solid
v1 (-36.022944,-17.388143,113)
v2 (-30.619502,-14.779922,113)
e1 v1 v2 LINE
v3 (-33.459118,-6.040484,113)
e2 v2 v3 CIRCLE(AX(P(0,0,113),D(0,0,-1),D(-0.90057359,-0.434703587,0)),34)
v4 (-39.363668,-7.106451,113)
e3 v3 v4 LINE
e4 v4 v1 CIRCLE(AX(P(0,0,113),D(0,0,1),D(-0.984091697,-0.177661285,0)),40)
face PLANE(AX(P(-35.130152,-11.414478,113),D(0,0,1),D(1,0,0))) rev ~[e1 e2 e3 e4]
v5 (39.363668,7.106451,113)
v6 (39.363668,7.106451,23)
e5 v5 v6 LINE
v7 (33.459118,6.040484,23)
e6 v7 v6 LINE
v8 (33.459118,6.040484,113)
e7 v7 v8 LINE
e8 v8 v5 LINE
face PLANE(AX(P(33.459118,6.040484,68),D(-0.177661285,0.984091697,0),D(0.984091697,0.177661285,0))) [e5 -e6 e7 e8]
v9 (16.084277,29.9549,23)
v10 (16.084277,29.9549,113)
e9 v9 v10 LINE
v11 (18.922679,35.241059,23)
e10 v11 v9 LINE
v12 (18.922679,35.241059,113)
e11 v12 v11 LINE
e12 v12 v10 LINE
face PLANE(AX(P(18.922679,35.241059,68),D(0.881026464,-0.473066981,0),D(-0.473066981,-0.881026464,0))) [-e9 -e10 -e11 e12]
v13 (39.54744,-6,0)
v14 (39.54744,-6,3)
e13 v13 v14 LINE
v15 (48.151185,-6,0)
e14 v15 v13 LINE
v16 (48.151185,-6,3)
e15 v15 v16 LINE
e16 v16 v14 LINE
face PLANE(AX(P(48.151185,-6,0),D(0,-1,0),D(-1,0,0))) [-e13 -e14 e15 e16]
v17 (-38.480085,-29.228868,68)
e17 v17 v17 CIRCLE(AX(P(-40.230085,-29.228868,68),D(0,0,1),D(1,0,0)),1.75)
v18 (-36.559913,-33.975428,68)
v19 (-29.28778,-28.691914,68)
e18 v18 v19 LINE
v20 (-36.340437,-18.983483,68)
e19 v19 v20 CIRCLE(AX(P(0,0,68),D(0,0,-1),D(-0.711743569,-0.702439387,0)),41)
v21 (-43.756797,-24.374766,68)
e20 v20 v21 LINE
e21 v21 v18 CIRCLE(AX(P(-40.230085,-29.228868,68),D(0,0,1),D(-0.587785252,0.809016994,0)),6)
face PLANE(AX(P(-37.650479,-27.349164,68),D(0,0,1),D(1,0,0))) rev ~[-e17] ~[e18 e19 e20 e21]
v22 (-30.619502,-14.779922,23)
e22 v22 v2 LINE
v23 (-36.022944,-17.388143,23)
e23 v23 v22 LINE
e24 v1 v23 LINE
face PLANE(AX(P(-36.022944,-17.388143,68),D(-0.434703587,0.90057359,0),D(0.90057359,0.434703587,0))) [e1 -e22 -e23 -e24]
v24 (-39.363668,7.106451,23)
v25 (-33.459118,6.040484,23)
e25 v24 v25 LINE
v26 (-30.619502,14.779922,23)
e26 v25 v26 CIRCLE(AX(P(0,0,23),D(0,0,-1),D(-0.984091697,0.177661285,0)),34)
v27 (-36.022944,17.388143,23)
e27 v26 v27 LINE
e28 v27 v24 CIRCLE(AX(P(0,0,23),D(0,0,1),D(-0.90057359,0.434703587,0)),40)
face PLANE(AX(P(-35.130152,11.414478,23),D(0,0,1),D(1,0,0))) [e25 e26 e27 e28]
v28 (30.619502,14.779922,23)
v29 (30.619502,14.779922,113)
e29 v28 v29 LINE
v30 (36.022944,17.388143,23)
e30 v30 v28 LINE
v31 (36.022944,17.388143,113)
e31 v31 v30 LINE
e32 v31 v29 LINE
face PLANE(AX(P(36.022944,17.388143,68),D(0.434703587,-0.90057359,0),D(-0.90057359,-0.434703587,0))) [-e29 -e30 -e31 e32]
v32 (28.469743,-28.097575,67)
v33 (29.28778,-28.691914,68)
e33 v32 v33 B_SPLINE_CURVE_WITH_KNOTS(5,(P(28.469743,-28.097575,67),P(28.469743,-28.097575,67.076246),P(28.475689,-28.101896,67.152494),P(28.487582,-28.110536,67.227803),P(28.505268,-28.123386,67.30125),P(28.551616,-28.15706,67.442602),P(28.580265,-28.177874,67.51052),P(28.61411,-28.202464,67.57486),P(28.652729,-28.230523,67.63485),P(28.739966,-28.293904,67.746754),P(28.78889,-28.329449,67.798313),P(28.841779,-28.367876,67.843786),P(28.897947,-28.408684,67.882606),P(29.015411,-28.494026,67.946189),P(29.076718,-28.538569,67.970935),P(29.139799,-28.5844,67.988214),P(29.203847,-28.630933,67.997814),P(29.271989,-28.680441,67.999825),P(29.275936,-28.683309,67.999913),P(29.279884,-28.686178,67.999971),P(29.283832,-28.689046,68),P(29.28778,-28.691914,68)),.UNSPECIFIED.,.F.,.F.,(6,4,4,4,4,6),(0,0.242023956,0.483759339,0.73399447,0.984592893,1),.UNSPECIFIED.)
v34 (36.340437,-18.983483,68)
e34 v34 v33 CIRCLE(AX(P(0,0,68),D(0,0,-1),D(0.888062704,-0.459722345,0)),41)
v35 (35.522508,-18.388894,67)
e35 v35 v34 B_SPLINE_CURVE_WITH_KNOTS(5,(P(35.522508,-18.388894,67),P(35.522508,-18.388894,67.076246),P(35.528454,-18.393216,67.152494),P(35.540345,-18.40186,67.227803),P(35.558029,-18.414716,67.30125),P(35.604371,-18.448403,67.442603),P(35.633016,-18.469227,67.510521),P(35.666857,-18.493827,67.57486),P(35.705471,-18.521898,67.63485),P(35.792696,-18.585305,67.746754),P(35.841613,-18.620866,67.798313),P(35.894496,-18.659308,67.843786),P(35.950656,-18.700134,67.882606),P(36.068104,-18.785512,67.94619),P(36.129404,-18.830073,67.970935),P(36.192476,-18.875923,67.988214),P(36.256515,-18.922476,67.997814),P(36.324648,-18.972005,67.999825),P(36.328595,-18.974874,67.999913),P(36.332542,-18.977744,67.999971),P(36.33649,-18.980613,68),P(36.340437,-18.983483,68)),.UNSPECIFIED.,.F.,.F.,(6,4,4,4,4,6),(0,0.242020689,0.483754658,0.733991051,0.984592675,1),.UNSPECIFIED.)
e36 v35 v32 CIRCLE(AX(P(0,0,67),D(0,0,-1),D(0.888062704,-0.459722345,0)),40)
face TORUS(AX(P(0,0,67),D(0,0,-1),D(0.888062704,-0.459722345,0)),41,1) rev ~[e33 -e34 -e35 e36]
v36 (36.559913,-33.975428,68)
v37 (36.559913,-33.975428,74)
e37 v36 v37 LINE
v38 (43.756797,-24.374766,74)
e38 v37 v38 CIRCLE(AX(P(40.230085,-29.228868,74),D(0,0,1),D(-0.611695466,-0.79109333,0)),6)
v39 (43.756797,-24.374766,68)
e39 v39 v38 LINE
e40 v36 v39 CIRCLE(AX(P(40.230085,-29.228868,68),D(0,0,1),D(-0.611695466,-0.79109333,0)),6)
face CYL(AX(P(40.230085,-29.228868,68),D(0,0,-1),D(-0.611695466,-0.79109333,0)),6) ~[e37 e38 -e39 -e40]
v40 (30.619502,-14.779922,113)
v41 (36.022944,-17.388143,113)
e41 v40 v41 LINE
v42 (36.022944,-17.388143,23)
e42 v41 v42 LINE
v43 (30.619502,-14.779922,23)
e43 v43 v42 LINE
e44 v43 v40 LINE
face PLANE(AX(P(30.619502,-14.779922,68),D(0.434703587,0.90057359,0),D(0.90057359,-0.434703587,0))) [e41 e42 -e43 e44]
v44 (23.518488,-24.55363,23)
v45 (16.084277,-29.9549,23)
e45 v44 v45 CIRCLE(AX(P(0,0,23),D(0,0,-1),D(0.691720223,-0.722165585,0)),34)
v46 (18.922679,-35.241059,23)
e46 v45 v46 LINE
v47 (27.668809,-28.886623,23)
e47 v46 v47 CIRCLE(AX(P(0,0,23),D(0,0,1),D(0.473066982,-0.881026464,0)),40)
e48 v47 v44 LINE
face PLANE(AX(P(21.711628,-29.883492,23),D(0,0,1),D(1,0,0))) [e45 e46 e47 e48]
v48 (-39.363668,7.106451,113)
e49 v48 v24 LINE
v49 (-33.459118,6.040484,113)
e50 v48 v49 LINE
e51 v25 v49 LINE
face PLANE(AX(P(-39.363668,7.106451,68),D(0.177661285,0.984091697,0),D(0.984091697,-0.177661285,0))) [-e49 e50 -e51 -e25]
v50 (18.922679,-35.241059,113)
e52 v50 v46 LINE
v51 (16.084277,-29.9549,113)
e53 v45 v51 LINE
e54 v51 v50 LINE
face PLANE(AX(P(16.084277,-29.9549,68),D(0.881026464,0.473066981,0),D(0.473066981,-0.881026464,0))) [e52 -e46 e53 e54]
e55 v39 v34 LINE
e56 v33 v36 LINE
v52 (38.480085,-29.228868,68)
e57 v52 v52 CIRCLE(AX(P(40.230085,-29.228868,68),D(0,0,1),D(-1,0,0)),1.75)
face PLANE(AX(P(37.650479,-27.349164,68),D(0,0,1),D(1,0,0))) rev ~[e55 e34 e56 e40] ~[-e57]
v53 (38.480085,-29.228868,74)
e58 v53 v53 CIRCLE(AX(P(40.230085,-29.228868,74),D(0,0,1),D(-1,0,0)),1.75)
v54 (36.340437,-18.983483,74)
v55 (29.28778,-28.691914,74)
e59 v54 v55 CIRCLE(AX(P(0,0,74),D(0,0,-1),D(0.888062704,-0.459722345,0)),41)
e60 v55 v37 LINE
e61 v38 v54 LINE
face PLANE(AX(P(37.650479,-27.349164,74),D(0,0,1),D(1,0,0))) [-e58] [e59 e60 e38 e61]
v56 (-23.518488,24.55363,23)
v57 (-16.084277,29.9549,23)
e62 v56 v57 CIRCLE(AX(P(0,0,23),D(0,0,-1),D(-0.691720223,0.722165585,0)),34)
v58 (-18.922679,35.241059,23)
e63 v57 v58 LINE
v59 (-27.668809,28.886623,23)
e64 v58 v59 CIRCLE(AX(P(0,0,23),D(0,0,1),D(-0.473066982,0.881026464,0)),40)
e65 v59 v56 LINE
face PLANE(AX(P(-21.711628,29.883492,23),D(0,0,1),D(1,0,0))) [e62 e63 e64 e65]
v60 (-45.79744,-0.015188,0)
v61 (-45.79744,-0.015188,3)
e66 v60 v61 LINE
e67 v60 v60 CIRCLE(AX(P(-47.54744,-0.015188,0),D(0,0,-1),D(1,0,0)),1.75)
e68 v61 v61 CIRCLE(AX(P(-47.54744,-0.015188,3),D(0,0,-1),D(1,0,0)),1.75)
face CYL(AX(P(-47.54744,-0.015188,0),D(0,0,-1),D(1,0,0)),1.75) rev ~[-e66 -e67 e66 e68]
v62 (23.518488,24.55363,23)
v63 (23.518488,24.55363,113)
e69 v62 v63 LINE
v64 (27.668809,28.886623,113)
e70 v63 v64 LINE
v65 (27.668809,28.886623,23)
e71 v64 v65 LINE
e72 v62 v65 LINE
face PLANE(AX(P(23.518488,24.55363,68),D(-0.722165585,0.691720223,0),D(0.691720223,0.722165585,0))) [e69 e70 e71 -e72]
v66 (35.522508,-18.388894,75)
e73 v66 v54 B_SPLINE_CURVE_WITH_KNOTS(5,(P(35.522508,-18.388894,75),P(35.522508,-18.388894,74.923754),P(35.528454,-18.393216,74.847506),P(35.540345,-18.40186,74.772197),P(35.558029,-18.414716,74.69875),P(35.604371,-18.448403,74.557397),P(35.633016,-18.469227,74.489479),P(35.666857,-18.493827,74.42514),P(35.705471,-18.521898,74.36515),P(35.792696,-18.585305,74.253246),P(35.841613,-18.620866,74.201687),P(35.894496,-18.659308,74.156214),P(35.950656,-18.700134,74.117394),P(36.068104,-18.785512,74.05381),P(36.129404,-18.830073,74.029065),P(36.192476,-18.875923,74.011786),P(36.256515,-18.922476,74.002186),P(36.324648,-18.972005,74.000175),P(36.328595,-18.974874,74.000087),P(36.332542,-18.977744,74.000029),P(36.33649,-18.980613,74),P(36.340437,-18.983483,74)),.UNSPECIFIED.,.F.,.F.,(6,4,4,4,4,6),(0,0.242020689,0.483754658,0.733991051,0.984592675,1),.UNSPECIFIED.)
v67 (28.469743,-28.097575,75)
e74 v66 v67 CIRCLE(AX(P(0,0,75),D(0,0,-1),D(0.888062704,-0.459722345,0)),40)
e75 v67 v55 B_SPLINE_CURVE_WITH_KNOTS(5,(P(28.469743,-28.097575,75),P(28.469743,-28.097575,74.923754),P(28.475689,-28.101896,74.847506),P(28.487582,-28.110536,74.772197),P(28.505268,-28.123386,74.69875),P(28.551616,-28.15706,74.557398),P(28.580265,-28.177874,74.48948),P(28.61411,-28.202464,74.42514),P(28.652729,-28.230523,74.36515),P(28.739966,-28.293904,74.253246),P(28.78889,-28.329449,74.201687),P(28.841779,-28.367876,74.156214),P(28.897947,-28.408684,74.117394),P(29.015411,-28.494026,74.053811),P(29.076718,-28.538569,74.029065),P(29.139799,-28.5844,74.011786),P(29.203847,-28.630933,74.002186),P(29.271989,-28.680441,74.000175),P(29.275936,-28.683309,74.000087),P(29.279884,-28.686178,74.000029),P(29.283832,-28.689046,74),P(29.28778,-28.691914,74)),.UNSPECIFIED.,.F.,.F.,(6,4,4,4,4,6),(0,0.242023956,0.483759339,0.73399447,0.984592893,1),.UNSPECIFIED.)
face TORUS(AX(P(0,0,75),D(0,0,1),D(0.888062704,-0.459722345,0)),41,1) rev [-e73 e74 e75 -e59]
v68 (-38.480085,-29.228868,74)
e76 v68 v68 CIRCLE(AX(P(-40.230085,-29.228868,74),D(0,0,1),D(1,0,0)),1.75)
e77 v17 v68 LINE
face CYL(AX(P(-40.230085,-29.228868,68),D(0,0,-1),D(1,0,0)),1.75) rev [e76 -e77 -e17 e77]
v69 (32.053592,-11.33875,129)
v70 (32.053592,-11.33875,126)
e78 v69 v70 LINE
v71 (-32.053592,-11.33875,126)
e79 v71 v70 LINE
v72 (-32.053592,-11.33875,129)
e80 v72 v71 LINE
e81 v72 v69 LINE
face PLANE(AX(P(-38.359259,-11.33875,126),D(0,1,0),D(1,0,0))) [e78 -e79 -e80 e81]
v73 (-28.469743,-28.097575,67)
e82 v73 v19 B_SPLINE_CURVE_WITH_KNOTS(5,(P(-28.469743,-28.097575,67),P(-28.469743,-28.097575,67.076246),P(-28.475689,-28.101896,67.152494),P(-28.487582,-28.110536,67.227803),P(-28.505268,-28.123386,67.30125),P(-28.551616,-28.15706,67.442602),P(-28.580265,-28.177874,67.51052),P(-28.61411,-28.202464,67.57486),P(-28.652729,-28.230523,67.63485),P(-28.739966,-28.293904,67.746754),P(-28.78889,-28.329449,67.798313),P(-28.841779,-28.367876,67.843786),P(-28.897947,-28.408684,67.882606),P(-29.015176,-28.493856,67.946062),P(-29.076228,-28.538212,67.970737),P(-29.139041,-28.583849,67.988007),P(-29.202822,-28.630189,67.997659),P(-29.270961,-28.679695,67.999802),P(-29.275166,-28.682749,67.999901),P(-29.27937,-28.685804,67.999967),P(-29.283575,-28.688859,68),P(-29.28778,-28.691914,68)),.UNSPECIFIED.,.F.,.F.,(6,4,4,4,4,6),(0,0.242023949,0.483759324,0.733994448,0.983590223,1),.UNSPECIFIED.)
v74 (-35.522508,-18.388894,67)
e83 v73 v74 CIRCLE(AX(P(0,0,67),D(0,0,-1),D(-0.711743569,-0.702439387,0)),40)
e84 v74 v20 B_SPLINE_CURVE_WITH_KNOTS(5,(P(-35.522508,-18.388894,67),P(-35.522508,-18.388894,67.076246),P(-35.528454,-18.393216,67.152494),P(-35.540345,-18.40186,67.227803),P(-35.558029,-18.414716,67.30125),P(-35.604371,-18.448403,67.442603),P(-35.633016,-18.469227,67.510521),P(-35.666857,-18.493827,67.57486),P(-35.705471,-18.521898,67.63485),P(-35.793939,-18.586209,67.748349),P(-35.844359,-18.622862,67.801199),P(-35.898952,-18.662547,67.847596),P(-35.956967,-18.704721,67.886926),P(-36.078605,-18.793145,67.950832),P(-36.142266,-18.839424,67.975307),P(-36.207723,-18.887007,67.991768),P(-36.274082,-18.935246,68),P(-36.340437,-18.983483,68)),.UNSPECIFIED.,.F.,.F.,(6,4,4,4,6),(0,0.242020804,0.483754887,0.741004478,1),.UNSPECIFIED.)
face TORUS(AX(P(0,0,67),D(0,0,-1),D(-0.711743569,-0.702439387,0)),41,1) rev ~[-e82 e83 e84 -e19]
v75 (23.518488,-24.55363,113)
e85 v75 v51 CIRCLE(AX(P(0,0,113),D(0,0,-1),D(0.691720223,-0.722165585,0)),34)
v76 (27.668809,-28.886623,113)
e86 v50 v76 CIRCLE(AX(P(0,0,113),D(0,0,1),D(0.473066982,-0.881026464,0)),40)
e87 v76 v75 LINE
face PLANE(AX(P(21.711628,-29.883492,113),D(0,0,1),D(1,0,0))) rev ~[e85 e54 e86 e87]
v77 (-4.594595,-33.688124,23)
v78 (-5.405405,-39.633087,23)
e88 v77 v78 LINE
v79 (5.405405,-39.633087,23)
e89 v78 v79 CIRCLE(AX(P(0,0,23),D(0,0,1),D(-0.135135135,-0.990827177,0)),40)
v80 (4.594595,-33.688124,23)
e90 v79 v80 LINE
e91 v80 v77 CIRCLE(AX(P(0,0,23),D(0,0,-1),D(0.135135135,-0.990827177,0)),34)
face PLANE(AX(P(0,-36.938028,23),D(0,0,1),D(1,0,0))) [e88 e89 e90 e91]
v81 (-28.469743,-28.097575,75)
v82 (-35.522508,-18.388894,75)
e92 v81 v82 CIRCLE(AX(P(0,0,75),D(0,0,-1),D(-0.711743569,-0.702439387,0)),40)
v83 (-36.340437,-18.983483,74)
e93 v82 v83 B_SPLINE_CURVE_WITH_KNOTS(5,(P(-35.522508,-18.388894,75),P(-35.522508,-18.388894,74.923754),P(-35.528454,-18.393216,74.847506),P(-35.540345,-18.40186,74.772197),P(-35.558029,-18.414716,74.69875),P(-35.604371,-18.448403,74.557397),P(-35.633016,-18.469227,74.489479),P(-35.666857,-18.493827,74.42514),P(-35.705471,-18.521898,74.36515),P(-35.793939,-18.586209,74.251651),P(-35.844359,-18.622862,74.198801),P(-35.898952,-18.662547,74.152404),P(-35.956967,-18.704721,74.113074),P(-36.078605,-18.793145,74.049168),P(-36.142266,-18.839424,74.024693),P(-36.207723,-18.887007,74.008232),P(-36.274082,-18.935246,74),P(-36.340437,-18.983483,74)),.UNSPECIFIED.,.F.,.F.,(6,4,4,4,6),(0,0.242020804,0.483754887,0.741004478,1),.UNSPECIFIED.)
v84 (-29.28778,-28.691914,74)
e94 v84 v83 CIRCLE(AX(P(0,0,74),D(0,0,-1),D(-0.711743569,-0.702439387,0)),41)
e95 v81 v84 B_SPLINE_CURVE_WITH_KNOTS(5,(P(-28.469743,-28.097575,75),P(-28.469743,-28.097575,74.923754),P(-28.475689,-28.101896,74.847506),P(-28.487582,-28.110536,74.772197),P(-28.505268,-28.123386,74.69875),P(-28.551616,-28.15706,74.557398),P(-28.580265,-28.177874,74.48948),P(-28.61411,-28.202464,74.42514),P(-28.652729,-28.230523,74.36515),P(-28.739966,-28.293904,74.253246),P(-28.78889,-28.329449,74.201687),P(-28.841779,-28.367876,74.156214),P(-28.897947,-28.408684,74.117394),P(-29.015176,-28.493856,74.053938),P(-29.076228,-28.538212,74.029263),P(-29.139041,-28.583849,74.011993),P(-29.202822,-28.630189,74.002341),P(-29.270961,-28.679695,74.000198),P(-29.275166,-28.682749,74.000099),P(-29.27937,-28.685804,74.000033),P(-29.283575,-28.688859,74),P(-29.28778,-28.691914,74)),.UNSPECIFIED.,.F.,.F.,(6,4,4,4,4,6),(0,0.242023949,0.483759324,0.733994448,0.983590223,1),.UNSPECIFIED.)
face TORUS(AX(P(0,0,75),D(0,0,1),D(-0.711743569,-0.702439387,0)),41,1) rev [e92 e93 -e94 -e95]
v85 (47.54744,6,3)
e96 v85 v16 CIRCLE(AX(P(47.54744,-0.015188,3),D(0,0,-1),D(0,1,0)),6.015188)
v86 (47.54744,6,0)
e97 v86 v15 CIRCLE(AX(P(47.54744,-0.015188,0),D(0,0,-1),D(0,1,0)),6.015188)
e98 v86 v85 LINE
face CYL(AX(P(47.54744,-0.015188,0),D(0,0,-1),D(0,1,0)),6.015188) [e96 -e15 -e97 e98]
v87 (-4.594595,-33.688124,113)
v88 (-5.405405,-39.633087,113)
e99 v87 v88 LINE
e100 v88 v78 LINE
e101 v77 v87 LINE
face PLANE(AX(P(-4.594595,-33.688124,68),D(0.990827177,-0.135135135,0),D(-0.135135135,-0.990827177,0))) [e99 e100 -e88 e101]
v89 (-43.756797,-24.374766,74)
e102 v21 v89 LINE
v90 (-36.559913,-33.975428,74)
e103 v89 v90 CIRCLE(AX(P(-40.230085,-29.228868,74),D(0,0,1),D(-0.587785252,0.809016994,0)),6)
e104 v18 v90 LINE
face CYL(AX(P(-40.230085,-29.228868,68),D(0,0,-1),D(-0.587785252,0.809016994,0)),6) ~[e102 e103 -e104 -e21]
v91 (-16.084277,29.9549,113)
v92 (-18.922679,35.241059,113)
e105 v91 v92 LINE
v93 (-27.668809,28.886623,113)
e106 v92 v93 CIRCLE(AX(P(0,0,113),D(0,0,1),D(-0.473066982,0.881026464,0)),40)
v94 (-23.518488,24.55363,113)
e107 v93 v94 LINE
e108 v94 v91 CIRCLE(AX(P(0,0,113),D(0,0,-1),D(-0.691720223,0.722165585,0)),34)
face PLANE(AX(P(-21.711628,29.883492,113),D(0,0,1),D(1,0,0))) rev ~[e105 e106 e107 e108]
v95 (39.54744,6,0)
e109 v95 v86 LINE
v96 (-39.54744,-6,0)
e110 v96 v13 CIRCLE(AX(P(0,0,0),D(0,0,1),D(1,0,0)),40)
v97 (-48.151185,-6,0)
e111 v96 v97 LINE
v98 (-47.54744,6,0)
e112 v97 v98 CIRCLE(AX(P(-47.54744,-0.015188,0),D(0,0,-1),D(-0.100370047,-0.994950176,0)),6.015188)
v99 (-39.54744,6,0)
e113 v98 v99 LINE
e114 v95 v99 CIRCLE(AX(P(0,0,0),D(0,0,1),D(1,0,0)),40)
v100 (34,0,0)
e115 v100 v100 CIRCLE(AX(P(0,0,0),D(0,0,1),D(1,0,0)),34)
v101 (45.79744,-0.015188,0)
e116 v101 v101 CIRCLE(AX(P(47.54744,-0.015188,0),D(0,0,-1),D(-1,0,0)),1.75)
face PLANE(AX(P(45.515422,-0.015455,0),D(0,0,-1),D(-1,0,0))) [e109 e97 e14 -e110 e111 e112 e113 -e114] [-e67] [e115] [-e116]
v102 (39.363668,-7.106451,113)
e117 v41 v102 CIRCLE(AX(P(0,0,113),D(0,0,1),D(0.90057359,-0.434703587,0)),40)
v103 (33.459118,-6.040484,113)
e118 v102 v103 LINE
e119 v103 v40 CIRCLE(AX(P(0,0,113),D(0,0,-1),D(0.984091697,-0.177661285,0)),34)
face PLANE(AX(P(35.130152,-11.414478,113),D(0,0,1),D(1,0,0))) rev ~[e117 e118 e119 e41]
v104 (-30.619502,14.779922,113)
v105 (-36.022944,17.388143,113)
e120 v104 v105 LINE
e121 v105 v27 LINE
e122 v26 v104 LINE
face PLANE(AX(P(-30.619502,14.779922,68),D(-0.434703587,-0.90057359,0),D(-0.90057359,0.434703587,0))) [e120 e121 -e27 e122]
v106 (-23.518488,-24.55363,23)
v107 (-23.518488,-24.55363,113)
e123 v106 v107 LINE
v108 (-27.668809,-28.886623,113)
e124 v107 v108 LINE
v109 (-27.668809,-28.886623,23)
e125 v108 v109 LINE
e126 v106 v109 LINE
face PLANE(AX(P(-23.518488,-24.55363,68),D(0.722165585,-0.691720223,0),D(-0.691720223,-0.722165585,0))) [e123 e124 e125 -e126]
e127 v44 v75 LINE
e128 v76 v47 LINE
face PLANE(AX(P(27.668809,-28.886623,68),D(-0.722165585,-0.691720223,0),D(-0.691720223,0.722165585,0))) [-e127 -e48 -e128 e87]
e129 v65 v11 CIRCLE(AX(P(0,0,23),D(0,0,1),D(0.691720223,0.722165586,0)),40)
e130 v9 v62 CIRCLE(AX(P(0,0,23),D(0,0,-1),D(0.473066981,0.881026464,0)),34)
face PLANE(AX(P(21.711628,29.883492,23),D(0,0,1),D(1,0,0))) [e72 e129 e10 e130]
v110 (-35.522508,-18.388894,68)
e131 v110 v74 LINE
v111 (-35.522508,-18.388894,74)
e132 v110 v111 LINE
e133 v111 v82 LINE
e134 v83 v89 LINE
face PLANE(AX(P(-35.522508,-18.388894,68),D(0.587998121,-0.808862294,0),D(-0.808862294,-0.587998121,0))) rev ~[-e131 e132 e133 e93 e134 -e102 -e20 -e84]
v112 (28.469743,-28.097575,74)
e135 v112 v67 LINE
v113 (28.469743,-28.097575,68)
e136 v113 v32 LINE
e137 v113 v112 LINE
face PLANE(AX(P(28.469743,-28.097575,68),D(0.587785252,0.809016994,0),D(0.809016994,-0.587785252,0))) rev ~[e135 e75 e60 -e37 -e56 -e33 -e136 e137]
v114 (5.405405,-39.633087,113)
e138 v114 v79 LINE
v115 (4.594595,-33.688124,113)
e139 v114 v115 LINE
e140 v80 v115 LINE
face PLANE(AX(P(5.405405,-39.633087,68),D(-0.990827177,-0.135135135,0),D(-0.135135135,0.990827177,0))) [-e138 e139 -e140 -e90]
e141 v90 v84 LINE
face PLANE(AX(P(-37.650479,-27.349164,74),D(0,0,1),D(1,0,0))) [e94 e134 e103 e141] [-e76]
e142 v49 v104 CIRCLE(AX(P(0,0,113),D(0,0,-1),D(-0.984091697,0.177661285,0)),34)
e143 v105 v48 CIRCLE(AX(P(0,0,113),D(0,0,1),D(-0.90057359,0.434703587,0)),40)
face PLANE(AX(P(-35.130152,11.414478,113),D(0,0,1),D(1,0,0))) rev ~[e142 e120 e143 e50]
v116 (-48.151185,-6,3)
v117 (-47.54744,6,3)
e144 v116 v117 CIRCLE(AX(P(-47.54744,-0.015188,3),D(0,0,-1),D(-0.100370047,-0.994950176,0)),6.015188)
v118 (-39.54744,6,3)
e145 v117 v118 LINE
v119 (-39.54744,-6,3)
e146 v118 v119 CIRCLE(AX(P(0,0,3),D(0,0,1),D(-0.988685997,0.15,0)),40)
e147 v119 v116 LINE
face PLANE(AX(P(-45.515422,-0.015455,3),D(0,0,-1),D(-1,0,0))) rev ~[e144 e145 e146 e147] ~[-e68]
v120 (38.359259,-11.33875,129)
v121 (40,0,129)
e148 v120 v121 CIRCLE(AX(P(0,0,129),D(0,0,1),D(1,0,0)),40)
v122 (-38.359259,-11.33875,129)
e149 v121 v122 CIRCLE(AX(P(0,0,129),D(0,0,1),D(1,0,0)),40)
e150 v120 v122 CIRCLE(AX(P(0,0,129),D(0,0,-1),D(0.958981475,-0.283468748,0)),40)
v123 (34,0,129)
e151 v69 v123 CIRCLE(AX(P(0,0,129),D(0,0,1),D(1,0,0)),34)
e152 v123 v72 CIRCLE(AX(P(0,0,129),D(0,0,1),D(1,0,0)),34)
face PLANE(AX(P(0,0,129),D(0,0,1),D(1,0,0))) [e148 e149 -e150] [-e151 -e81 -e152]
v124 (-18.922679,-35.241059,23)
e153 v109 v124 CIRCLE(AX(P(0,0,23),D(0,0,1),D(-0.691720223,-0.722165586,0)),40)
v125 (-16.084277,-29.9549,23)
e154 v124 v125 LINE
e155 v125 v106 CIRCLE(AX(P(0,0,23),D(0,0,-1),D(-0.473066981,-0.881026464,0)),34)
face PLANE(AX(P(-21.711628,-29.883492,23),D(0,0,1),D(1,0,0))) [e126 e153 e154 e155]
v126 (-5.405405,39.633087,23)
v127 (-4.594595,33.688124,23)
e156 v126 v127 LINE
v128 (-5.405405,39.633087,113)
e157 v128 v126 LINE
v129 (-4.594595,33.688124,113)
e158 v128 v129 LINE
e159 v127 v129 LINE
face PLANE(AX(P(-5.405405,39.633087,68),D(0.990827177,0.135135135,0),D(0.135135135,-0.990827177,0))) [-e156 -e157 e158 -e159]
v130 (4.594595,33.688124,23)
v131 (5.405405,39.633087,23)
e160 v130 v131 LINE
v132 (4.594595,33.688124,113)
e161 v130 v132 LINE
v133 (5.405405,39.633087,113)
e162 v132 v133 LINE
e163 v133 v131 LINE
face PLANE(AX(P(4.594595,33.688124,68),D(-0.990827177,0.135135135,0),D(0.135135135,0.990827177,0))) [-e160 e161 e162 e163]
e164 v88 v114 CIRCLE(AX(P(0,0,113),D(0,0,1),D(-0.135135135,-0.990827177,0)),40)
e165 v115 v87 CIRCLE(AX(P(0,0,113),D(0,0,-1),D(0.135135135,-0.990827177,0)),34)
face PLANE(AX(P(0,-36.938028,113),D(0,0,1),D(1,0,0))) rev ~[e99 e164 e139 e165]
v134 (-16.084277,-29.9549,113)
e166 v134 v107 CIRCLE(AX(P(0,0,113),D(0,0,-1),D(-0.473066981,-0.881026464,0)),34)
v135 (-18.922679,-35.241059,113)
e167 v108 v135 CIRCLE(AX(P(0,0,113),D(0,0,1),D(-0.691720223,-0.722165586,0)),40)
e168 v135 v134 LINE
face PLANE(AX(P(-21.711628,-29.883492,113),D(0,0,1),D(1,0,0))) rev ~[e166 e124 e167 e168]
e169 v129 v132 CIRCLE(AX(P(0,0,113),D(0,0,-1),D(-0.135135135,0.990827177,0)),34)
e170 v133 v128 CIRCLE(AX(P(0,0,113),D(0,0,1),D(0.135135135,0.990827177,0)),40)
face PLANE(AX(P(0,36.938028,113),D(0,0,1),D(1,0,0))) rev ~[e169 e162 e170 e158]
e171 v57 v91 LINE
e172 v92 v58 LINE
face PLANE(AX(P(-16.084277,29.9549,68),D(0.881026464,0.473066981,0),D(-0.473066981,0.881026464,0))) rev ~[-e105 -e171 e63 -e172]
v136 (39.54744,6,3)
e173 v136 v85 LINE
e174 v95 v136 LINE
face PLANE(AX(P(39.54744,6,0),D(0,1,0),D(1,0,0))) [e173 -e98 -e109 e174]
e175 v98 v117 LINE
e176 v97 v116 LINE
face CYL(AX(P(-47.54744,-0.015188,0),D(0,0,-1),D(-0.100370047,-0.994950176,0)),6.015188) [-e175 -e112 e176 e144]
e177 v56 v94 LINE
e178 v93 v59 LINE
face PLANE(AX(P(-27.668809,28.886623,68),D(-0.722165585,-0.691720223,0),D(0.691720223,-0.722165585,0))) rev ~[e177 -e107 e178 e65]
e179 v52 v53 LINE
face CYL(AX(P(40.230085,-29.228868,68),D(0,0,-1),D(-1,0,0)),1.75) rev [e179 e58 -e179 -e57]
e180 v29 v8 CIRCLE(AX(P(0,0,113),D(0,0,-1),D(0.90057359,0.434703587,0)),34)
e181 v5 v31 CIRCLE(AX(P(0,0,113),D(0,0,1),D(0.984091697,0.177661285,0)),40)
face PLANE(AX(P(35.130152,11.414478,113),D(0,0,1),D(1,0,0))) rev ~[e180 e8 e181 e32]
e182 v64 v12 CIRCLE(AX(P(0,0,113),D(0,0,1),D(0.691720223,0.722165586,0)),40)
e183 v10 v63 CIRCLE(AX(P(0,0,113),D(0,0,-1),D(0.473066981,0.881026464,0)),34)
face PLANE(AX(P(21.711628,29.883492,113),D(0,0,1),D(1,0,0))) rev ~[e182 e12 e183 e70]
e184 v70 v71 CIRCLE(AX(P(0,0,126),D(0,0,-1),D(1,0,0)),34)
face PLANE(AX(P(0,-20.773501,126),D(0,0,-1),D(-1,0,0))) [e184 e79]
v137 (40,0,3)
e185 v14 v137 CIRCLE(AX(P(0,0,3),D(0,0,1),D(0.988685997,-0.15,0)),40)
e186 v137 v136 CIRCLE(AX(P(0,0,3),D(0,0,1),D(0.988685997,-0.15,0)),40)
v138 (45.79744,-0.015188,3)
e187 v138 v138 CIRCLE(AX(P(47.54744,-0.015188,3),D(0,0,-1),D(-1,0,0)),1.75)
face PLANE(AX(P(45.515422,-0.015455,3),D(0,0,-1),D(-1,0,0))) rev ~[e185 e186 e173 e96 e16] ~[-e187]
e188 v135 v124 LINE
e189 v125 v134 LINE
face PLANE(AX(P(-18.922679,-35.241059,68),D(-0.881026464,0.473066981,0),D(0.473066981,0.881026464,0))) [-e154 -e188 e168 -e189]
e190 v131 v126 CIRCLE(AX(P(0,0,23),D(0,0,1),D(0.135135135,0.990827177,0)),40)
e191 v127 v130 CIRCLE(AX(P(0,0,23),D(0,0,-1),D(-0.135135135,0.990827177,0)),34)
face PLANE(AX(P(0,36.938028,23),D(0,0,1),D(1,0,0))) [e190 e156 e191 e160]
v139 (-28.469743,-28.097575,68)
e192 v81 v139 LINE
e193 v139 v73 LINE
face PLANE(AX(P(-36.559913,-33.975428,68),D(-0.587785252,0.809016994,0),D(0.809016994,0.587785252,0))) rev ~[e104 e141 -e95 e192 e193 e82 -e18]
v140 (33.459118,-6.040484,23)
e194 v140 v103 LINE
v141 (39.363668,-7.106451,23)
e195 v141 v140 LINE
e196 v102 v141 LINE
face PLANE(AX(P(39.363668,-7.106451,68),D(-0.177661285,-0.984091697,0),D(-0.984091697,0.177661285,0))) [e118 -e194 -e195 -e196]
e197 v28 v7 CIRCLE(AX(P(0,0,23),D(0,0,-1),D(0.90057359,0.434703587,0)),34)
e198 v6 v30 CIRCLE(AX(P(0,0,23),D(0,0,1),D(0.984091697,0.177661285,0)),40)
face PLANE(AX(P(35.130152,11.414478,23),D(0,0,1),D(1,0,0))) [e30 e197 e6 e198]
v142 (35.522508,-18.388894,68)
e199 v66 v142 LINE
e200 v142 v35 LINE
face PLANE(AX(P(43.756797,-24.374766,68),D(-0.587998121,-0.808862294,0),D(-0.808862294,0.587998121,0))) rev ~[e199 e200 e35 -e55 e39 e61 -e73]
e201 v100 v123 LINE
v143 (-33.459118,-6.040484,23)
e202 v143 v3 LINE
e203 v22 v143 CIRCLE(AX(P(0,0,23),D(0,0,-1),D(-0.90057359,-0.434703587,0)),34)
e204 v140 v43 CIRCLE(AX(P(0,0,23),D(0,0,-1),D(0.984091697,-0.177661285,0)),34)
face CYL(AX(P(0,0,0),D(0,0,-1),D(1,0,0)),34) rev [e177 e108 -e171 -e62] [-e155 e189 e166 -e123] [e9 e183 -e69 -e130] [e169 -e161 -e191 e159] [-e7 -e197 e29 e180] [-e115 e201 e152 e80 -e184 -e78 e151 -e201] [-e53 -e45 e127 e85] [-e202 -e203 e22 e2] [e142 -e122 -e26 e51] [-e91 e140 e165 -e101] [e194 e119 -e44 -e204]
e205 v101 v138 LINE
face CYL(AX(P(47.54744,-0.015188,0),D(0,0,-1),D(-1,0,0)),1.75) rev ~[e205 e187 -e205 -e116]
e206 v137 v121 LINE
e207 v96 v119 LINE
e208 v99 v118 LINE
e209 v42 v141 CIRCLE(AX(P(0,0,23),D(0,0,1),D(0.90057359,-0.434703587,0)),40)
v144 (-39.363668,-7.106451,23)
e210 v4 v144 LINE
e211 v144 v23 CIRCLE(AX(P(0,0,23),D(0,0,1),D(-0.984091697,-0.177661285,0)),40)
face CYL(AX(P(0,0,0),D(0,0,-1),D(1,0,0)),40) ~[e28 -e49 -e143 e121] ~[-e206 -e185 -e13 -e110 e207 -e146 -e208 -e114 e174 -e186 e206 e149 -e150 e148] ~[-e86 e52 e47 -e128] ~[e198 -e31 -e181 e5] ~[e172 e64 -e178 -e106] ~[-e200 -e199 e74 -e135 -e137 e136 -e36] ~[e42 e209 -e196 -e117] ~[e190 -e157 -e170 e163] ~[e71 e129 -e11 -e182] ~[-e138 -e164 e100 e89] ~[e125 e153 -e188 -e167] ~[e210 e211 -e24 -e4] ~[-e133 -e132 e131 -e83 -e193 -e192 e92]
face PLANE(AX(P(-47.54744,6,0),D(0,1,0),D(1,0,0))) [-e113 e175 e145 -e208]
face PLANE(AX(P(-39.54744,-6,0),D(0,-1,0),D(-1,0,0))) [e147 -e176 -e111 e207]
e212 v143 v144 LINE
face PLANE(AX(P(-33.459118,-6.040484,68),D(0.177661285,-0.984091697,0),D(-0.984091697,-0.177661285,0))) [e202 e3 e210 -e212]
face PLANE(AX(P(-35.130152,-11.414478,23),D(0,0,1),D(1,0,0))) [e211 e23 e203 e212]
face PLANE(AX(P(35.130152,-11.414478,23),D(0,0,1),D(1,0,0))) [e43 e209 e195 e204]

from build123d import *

# Parameters (mm, degrees)
SKETCH2_R           = 40
SKETCH2_R_2         = 34
BOSS_EXTRUDE1_DEPTH = 129
BOSS_EXTRUDE2_START = -3
BOSS_EXTRUDE2_DEPTH = 3
SKETCH4_R           = 1.75
BOSS_EXTRUDE3_DEPTH = 6
FILLET1_R           = 1
SKETCH5_R           = 1.75
BOSS_EXTRUDE4_DEPTH = 3
CUT_EXTRUDE1_DEPTH  = 45


with BuildPart() as part:
    # Sketch2 → Boss-Extrude1 (new body)
    with BuildSketch(Plane.XY):
        Circle(SKETCH2_R)
        Circle(SKETCH2_R_2, mode=Mode.SUBTRACT)
    extrude(amount=BOSS_EXTRUDE1_DEPTH)

    # Sketch3 → Boss-Extrude2 (add)
    with BuildSketch(Plane.XY.offset(129).offset(BOSS_EXTRUDE2_START)):
        with BuildLine():
            Line((-38.359258991, -11.338749917), (38.359258991, -11.338749917))
            ThreePointArc((38.359258991, -11.338749917), (0, -40), (-38.359258991, -11.338749917))
        make_face()
    extrude(amount=BOSS_EXTRUDE2_DEPTH)

    # Sketch4 → Boss-Extrude3 (add)
    # profile 1 of 2: a face of its own
    with BuildSketch(Plane.XY.offset(68)):
        with BuildLine():
            Line((-35.522508154, -18.388893781), (-43.756797007, -24.37476605))
            ThreePointArc((-43.756797007, -24.37476605), (-45.030952367, -32.827711895), (-36.559912698, -33.975427997))
            Line((-36.559912698, -33.975427997), (-28.469742754, -28.097575474))
            ThreePointArc((-28.469742754, -28.097575474), (-32.362272311, -23.509217998), (-35.522508154, -18.388893781))
        make_face()
        with Locations((-40.230085493, -29.228868016)):
            Circle(SKETCH4_R, mode=Mode.SUBTRACT)
    # profile 2 of 2: a face of its own
    with BuildSketch(Plane.XY.offset(68)):
        with BuildLine():
            Line((28.469742754, -28.097575474), (36.559912698, -33.975427997))
            ThreePointArc((36.559912698, -33.975427997), (45.030952367, -32.827711895), (43.756797007, -24.37476605))
            Line((43.756797007, -24.37476605), (35.522508154, -18.388893781))
            ThreePointArc((35.522508154, -18.388893781), (32.362272311, -23.509217998), (28.469742754, -28.097575474))
        make_face()
        with Locations(Location((40.230085493, -29.228868016, 0), (0, 0, 180))):
            Circle(SKETCH4_R, mode=Mode.SUBTRACT)
    extrude(amount=BOSS_EXTRUDE3_DEPTH)

    # Fillet1
    fillet1_edges = [part.edges().sort_by_distance(p)[0] for p in [
        (-32.362272311, -23.509217998, 74),
        (-32.362272311, -23.509217998, 68),
        (32.362272311, -23.509217998, 74),
        (32.362272311, -23.509217998, 68),
    ]]
    fillet(fillet1_edges, radius=FILLET1_R)

    # Sketch5 → Boss-Extrude4 (add)
    # profile 1 of 2: a face of its own
    with BuildSketch(Plane(origin=(0, 0, 0), x_dir=(-1, 0, 0), z_dir=(0, 0, -1))):
        with BuildLine():
            Line((-39.547439867, 6), (-47.547439867, 6))
            ThreePointArc((-47.547439867, 6), (-53.555028976, 0.287066347), (-48.151184551, -6))
            Line((-48.151184551, -6), (-39.547439867, -6))
            ThreePointArc((-39.547439867, -6), (-40, 0), (-39.547439867, 6))
        make_face()
        with Locations((-47.547439867, -0.015187819)):
            Circle(SKETCH5_R, mode=Mode.SUBTRACT)
    # profile 2 of 2: a face of its own
    with BuildSketch(Plane(origin=(0, 0, 0), x_dir=(-1, 0, 0), z_dir=(0, 0, -1))):
        with BuildLine():
            Line((39.547439867, -6), (48.151184551, -6))
            ThreePointArc((48.151184551, -6), (53.555028976, 0.287066347), (47.547439867, 6))
            Line((47.547439867, 6), (39.547439867, 6))
            ThreePointArc((39.547439867, 6), (40, 0), (39.547439867, -6))
        make_face()
        with Locations(Location((47.547439867, -0.015187819, 0), (0, 0, 180))):
            Circle(SKETCH5_R, mode=Mode.SUBTRACT)
    extrude(amount=-BOSS_EXTRUDE4_DEPTH)

    # Sketch6 → Cut-Extrude1 (cut, symmetric)
    with BuildSketch(Plane.XY.offset(68)):
        with BuildLine():
            Line((-5.405405405, 39.633087092), (-4.594594595, 33.688124028))
            ThreePointArc((-4.594594595, 33.688124028), (0, 34), (4.594594595, 33.688124028))
            Line((4.594594595, 33.688124028), (5.405405405, 39.633087092))
            ThreePointArc((5.405405405, 39.633087092), (0, 40), (-5.405405405, 39.633087092))
        make_face()
        with BuildLine():
            Line((18.922679261, 35.241058577), (16.084277372, 29.95489979))
            ThreePointArc((16.084277372, 29.95489979), (19.984698578, 27.506577809), (23.51848759, 24.553629904))
            Line((23.51848759, 24.553629904), (27.66880893, 28.886623417))
            ThreePointArc((27.66880893, 28.886623417), (23.511410092, 32.360679775), (18.922679261, 35.241058577))
        make_face()
        with BuildLine():
            Line((36.022943608, 17.388143485), (30.619502066, 14.779921962))
            ThreePointArc((30.619502066, 14.779921962), (32.335921554, 10.506577809), (33.45911769, 6.040483704))
            Line((33.45911769, 6.040483704), (39.363667871, 7.106451417))
            ThreePointArc((39.363667871, 7.106451417), (38.042260652, 12.360679775), (36.022943608, 17.388143485))
        make_face()
        with BuildLine():
            Line((39.363667871, -7.106451417), (33.45911769, -6.040483704))
            ThreePointArc((33.45911769, -6.040483704), (32.335921554, -10.506577809), (30.619502066, -14.779921962))
            Line((30.619502066, -14.779921962), (36.022943608, -17.388143485))
            ThreePointArc((36.022943608, -17.388143485), (38.042260652, -12.360679775), (39.363667871, -7.106451417))
        make_face()
        with BuildLine():
            Line((27.66880893, -28.886623417), (23.51848759, -24.553629904))
            ThreePointArc((23.51848759, -24.553629904), (19.984698578, -27.506577809), (16.084277372, -29.95489979))
            Line((16.084277372, -29.95489979), (18.922679261, -35.241058577))
            ThreePointArc((18.922679261, -35.241058577), (23.511410092, -32.360679775), (27.66880893, -28.886623417))
        make_face()
        with BuildLine():
            Line((5.405405405, -39.633087092), (4.594594595, -33.688124028))
            ThreePointArc((4.594594595, -33.688124028), (0, -34), (-4.594594595, -33.688124028))
            Line((-4.594594595, -33.688124028), (-5.405405405, -39.633087092))
            ThreePointArc((-5.405405405, -39.633087092), (0, -40), (5.405405405, -39.633087092))
        make_face()
        with BuildLine():
            Line((-18.922679261, -35.241058577), (-16.084277372, -29.95489979))
            ThreePointArc((-16.084277372, -29.95489979), (-19.984698578, -27.506577809), (-23.51848759, -24.553629904))
            Line((-23.51848759, -24.553629904), (-27.66880893, -28.886623417))
            ThreePointArc((-27.66880893, -28.886623417), (-23.511410092, -32.360679775), (-18.922679261, -35.241058577))
        make_face()
        with BuildLine():
            Line((-36.022943608, -17.388143485), (-30.619502066, -14.779921962))
            ThreePointArc((-30.619502066, -14.779921962), (-32.335921554, -10.506577809), (-33.45911769, -6.040483704))
            Line((-33.45911769, -6.040483704), (-39.363667871, -7.106451417))
            ThreePointArc((-39.363667871, -7.106451417), (-38.042260652, -12.360679775), (-36.022943608, -17.388143485))
        make_face()
        with BuildLine():
            Line((-39.363667871, 7.106451417), (-33.45911769, 6.040483704))
            ThreePointArc((-33.45911769, 6.040483704), (-32.335921554, 10.506577809), (-30.619502066, 14.779921962))
            Line((-30.619502066, 14.779921962), (-36.022943608, 17.388143485))
            ThreePointArc((-36.022943608, 17.388143485), (-38.042260652, 12.360679775), (-39.363667871, 7.106451417))
        make_face()
        with BuildLine():
            Line((-27.66880893, 28.886623417), (-23.51848759, 24.553629904))
            ThreePointArc((-23.51848759, 24.553629904), (-19.984698578, 27.506577809), (-16.084277372, 29.95489979))
            Line((-16.084277372, 29.95489979), (-18.922679261, 35.241058577))
            ThreePointArc((-18.922679261, 35.241058577), (-23.511410092, 32.360679775), (-27.66880893, 28.886623417))
        make_face()
    extrude(amount=CUT_EXTRUDE1_DEPTH, both=True, mode=Mode.SUBTRACT)


solid = part.part
